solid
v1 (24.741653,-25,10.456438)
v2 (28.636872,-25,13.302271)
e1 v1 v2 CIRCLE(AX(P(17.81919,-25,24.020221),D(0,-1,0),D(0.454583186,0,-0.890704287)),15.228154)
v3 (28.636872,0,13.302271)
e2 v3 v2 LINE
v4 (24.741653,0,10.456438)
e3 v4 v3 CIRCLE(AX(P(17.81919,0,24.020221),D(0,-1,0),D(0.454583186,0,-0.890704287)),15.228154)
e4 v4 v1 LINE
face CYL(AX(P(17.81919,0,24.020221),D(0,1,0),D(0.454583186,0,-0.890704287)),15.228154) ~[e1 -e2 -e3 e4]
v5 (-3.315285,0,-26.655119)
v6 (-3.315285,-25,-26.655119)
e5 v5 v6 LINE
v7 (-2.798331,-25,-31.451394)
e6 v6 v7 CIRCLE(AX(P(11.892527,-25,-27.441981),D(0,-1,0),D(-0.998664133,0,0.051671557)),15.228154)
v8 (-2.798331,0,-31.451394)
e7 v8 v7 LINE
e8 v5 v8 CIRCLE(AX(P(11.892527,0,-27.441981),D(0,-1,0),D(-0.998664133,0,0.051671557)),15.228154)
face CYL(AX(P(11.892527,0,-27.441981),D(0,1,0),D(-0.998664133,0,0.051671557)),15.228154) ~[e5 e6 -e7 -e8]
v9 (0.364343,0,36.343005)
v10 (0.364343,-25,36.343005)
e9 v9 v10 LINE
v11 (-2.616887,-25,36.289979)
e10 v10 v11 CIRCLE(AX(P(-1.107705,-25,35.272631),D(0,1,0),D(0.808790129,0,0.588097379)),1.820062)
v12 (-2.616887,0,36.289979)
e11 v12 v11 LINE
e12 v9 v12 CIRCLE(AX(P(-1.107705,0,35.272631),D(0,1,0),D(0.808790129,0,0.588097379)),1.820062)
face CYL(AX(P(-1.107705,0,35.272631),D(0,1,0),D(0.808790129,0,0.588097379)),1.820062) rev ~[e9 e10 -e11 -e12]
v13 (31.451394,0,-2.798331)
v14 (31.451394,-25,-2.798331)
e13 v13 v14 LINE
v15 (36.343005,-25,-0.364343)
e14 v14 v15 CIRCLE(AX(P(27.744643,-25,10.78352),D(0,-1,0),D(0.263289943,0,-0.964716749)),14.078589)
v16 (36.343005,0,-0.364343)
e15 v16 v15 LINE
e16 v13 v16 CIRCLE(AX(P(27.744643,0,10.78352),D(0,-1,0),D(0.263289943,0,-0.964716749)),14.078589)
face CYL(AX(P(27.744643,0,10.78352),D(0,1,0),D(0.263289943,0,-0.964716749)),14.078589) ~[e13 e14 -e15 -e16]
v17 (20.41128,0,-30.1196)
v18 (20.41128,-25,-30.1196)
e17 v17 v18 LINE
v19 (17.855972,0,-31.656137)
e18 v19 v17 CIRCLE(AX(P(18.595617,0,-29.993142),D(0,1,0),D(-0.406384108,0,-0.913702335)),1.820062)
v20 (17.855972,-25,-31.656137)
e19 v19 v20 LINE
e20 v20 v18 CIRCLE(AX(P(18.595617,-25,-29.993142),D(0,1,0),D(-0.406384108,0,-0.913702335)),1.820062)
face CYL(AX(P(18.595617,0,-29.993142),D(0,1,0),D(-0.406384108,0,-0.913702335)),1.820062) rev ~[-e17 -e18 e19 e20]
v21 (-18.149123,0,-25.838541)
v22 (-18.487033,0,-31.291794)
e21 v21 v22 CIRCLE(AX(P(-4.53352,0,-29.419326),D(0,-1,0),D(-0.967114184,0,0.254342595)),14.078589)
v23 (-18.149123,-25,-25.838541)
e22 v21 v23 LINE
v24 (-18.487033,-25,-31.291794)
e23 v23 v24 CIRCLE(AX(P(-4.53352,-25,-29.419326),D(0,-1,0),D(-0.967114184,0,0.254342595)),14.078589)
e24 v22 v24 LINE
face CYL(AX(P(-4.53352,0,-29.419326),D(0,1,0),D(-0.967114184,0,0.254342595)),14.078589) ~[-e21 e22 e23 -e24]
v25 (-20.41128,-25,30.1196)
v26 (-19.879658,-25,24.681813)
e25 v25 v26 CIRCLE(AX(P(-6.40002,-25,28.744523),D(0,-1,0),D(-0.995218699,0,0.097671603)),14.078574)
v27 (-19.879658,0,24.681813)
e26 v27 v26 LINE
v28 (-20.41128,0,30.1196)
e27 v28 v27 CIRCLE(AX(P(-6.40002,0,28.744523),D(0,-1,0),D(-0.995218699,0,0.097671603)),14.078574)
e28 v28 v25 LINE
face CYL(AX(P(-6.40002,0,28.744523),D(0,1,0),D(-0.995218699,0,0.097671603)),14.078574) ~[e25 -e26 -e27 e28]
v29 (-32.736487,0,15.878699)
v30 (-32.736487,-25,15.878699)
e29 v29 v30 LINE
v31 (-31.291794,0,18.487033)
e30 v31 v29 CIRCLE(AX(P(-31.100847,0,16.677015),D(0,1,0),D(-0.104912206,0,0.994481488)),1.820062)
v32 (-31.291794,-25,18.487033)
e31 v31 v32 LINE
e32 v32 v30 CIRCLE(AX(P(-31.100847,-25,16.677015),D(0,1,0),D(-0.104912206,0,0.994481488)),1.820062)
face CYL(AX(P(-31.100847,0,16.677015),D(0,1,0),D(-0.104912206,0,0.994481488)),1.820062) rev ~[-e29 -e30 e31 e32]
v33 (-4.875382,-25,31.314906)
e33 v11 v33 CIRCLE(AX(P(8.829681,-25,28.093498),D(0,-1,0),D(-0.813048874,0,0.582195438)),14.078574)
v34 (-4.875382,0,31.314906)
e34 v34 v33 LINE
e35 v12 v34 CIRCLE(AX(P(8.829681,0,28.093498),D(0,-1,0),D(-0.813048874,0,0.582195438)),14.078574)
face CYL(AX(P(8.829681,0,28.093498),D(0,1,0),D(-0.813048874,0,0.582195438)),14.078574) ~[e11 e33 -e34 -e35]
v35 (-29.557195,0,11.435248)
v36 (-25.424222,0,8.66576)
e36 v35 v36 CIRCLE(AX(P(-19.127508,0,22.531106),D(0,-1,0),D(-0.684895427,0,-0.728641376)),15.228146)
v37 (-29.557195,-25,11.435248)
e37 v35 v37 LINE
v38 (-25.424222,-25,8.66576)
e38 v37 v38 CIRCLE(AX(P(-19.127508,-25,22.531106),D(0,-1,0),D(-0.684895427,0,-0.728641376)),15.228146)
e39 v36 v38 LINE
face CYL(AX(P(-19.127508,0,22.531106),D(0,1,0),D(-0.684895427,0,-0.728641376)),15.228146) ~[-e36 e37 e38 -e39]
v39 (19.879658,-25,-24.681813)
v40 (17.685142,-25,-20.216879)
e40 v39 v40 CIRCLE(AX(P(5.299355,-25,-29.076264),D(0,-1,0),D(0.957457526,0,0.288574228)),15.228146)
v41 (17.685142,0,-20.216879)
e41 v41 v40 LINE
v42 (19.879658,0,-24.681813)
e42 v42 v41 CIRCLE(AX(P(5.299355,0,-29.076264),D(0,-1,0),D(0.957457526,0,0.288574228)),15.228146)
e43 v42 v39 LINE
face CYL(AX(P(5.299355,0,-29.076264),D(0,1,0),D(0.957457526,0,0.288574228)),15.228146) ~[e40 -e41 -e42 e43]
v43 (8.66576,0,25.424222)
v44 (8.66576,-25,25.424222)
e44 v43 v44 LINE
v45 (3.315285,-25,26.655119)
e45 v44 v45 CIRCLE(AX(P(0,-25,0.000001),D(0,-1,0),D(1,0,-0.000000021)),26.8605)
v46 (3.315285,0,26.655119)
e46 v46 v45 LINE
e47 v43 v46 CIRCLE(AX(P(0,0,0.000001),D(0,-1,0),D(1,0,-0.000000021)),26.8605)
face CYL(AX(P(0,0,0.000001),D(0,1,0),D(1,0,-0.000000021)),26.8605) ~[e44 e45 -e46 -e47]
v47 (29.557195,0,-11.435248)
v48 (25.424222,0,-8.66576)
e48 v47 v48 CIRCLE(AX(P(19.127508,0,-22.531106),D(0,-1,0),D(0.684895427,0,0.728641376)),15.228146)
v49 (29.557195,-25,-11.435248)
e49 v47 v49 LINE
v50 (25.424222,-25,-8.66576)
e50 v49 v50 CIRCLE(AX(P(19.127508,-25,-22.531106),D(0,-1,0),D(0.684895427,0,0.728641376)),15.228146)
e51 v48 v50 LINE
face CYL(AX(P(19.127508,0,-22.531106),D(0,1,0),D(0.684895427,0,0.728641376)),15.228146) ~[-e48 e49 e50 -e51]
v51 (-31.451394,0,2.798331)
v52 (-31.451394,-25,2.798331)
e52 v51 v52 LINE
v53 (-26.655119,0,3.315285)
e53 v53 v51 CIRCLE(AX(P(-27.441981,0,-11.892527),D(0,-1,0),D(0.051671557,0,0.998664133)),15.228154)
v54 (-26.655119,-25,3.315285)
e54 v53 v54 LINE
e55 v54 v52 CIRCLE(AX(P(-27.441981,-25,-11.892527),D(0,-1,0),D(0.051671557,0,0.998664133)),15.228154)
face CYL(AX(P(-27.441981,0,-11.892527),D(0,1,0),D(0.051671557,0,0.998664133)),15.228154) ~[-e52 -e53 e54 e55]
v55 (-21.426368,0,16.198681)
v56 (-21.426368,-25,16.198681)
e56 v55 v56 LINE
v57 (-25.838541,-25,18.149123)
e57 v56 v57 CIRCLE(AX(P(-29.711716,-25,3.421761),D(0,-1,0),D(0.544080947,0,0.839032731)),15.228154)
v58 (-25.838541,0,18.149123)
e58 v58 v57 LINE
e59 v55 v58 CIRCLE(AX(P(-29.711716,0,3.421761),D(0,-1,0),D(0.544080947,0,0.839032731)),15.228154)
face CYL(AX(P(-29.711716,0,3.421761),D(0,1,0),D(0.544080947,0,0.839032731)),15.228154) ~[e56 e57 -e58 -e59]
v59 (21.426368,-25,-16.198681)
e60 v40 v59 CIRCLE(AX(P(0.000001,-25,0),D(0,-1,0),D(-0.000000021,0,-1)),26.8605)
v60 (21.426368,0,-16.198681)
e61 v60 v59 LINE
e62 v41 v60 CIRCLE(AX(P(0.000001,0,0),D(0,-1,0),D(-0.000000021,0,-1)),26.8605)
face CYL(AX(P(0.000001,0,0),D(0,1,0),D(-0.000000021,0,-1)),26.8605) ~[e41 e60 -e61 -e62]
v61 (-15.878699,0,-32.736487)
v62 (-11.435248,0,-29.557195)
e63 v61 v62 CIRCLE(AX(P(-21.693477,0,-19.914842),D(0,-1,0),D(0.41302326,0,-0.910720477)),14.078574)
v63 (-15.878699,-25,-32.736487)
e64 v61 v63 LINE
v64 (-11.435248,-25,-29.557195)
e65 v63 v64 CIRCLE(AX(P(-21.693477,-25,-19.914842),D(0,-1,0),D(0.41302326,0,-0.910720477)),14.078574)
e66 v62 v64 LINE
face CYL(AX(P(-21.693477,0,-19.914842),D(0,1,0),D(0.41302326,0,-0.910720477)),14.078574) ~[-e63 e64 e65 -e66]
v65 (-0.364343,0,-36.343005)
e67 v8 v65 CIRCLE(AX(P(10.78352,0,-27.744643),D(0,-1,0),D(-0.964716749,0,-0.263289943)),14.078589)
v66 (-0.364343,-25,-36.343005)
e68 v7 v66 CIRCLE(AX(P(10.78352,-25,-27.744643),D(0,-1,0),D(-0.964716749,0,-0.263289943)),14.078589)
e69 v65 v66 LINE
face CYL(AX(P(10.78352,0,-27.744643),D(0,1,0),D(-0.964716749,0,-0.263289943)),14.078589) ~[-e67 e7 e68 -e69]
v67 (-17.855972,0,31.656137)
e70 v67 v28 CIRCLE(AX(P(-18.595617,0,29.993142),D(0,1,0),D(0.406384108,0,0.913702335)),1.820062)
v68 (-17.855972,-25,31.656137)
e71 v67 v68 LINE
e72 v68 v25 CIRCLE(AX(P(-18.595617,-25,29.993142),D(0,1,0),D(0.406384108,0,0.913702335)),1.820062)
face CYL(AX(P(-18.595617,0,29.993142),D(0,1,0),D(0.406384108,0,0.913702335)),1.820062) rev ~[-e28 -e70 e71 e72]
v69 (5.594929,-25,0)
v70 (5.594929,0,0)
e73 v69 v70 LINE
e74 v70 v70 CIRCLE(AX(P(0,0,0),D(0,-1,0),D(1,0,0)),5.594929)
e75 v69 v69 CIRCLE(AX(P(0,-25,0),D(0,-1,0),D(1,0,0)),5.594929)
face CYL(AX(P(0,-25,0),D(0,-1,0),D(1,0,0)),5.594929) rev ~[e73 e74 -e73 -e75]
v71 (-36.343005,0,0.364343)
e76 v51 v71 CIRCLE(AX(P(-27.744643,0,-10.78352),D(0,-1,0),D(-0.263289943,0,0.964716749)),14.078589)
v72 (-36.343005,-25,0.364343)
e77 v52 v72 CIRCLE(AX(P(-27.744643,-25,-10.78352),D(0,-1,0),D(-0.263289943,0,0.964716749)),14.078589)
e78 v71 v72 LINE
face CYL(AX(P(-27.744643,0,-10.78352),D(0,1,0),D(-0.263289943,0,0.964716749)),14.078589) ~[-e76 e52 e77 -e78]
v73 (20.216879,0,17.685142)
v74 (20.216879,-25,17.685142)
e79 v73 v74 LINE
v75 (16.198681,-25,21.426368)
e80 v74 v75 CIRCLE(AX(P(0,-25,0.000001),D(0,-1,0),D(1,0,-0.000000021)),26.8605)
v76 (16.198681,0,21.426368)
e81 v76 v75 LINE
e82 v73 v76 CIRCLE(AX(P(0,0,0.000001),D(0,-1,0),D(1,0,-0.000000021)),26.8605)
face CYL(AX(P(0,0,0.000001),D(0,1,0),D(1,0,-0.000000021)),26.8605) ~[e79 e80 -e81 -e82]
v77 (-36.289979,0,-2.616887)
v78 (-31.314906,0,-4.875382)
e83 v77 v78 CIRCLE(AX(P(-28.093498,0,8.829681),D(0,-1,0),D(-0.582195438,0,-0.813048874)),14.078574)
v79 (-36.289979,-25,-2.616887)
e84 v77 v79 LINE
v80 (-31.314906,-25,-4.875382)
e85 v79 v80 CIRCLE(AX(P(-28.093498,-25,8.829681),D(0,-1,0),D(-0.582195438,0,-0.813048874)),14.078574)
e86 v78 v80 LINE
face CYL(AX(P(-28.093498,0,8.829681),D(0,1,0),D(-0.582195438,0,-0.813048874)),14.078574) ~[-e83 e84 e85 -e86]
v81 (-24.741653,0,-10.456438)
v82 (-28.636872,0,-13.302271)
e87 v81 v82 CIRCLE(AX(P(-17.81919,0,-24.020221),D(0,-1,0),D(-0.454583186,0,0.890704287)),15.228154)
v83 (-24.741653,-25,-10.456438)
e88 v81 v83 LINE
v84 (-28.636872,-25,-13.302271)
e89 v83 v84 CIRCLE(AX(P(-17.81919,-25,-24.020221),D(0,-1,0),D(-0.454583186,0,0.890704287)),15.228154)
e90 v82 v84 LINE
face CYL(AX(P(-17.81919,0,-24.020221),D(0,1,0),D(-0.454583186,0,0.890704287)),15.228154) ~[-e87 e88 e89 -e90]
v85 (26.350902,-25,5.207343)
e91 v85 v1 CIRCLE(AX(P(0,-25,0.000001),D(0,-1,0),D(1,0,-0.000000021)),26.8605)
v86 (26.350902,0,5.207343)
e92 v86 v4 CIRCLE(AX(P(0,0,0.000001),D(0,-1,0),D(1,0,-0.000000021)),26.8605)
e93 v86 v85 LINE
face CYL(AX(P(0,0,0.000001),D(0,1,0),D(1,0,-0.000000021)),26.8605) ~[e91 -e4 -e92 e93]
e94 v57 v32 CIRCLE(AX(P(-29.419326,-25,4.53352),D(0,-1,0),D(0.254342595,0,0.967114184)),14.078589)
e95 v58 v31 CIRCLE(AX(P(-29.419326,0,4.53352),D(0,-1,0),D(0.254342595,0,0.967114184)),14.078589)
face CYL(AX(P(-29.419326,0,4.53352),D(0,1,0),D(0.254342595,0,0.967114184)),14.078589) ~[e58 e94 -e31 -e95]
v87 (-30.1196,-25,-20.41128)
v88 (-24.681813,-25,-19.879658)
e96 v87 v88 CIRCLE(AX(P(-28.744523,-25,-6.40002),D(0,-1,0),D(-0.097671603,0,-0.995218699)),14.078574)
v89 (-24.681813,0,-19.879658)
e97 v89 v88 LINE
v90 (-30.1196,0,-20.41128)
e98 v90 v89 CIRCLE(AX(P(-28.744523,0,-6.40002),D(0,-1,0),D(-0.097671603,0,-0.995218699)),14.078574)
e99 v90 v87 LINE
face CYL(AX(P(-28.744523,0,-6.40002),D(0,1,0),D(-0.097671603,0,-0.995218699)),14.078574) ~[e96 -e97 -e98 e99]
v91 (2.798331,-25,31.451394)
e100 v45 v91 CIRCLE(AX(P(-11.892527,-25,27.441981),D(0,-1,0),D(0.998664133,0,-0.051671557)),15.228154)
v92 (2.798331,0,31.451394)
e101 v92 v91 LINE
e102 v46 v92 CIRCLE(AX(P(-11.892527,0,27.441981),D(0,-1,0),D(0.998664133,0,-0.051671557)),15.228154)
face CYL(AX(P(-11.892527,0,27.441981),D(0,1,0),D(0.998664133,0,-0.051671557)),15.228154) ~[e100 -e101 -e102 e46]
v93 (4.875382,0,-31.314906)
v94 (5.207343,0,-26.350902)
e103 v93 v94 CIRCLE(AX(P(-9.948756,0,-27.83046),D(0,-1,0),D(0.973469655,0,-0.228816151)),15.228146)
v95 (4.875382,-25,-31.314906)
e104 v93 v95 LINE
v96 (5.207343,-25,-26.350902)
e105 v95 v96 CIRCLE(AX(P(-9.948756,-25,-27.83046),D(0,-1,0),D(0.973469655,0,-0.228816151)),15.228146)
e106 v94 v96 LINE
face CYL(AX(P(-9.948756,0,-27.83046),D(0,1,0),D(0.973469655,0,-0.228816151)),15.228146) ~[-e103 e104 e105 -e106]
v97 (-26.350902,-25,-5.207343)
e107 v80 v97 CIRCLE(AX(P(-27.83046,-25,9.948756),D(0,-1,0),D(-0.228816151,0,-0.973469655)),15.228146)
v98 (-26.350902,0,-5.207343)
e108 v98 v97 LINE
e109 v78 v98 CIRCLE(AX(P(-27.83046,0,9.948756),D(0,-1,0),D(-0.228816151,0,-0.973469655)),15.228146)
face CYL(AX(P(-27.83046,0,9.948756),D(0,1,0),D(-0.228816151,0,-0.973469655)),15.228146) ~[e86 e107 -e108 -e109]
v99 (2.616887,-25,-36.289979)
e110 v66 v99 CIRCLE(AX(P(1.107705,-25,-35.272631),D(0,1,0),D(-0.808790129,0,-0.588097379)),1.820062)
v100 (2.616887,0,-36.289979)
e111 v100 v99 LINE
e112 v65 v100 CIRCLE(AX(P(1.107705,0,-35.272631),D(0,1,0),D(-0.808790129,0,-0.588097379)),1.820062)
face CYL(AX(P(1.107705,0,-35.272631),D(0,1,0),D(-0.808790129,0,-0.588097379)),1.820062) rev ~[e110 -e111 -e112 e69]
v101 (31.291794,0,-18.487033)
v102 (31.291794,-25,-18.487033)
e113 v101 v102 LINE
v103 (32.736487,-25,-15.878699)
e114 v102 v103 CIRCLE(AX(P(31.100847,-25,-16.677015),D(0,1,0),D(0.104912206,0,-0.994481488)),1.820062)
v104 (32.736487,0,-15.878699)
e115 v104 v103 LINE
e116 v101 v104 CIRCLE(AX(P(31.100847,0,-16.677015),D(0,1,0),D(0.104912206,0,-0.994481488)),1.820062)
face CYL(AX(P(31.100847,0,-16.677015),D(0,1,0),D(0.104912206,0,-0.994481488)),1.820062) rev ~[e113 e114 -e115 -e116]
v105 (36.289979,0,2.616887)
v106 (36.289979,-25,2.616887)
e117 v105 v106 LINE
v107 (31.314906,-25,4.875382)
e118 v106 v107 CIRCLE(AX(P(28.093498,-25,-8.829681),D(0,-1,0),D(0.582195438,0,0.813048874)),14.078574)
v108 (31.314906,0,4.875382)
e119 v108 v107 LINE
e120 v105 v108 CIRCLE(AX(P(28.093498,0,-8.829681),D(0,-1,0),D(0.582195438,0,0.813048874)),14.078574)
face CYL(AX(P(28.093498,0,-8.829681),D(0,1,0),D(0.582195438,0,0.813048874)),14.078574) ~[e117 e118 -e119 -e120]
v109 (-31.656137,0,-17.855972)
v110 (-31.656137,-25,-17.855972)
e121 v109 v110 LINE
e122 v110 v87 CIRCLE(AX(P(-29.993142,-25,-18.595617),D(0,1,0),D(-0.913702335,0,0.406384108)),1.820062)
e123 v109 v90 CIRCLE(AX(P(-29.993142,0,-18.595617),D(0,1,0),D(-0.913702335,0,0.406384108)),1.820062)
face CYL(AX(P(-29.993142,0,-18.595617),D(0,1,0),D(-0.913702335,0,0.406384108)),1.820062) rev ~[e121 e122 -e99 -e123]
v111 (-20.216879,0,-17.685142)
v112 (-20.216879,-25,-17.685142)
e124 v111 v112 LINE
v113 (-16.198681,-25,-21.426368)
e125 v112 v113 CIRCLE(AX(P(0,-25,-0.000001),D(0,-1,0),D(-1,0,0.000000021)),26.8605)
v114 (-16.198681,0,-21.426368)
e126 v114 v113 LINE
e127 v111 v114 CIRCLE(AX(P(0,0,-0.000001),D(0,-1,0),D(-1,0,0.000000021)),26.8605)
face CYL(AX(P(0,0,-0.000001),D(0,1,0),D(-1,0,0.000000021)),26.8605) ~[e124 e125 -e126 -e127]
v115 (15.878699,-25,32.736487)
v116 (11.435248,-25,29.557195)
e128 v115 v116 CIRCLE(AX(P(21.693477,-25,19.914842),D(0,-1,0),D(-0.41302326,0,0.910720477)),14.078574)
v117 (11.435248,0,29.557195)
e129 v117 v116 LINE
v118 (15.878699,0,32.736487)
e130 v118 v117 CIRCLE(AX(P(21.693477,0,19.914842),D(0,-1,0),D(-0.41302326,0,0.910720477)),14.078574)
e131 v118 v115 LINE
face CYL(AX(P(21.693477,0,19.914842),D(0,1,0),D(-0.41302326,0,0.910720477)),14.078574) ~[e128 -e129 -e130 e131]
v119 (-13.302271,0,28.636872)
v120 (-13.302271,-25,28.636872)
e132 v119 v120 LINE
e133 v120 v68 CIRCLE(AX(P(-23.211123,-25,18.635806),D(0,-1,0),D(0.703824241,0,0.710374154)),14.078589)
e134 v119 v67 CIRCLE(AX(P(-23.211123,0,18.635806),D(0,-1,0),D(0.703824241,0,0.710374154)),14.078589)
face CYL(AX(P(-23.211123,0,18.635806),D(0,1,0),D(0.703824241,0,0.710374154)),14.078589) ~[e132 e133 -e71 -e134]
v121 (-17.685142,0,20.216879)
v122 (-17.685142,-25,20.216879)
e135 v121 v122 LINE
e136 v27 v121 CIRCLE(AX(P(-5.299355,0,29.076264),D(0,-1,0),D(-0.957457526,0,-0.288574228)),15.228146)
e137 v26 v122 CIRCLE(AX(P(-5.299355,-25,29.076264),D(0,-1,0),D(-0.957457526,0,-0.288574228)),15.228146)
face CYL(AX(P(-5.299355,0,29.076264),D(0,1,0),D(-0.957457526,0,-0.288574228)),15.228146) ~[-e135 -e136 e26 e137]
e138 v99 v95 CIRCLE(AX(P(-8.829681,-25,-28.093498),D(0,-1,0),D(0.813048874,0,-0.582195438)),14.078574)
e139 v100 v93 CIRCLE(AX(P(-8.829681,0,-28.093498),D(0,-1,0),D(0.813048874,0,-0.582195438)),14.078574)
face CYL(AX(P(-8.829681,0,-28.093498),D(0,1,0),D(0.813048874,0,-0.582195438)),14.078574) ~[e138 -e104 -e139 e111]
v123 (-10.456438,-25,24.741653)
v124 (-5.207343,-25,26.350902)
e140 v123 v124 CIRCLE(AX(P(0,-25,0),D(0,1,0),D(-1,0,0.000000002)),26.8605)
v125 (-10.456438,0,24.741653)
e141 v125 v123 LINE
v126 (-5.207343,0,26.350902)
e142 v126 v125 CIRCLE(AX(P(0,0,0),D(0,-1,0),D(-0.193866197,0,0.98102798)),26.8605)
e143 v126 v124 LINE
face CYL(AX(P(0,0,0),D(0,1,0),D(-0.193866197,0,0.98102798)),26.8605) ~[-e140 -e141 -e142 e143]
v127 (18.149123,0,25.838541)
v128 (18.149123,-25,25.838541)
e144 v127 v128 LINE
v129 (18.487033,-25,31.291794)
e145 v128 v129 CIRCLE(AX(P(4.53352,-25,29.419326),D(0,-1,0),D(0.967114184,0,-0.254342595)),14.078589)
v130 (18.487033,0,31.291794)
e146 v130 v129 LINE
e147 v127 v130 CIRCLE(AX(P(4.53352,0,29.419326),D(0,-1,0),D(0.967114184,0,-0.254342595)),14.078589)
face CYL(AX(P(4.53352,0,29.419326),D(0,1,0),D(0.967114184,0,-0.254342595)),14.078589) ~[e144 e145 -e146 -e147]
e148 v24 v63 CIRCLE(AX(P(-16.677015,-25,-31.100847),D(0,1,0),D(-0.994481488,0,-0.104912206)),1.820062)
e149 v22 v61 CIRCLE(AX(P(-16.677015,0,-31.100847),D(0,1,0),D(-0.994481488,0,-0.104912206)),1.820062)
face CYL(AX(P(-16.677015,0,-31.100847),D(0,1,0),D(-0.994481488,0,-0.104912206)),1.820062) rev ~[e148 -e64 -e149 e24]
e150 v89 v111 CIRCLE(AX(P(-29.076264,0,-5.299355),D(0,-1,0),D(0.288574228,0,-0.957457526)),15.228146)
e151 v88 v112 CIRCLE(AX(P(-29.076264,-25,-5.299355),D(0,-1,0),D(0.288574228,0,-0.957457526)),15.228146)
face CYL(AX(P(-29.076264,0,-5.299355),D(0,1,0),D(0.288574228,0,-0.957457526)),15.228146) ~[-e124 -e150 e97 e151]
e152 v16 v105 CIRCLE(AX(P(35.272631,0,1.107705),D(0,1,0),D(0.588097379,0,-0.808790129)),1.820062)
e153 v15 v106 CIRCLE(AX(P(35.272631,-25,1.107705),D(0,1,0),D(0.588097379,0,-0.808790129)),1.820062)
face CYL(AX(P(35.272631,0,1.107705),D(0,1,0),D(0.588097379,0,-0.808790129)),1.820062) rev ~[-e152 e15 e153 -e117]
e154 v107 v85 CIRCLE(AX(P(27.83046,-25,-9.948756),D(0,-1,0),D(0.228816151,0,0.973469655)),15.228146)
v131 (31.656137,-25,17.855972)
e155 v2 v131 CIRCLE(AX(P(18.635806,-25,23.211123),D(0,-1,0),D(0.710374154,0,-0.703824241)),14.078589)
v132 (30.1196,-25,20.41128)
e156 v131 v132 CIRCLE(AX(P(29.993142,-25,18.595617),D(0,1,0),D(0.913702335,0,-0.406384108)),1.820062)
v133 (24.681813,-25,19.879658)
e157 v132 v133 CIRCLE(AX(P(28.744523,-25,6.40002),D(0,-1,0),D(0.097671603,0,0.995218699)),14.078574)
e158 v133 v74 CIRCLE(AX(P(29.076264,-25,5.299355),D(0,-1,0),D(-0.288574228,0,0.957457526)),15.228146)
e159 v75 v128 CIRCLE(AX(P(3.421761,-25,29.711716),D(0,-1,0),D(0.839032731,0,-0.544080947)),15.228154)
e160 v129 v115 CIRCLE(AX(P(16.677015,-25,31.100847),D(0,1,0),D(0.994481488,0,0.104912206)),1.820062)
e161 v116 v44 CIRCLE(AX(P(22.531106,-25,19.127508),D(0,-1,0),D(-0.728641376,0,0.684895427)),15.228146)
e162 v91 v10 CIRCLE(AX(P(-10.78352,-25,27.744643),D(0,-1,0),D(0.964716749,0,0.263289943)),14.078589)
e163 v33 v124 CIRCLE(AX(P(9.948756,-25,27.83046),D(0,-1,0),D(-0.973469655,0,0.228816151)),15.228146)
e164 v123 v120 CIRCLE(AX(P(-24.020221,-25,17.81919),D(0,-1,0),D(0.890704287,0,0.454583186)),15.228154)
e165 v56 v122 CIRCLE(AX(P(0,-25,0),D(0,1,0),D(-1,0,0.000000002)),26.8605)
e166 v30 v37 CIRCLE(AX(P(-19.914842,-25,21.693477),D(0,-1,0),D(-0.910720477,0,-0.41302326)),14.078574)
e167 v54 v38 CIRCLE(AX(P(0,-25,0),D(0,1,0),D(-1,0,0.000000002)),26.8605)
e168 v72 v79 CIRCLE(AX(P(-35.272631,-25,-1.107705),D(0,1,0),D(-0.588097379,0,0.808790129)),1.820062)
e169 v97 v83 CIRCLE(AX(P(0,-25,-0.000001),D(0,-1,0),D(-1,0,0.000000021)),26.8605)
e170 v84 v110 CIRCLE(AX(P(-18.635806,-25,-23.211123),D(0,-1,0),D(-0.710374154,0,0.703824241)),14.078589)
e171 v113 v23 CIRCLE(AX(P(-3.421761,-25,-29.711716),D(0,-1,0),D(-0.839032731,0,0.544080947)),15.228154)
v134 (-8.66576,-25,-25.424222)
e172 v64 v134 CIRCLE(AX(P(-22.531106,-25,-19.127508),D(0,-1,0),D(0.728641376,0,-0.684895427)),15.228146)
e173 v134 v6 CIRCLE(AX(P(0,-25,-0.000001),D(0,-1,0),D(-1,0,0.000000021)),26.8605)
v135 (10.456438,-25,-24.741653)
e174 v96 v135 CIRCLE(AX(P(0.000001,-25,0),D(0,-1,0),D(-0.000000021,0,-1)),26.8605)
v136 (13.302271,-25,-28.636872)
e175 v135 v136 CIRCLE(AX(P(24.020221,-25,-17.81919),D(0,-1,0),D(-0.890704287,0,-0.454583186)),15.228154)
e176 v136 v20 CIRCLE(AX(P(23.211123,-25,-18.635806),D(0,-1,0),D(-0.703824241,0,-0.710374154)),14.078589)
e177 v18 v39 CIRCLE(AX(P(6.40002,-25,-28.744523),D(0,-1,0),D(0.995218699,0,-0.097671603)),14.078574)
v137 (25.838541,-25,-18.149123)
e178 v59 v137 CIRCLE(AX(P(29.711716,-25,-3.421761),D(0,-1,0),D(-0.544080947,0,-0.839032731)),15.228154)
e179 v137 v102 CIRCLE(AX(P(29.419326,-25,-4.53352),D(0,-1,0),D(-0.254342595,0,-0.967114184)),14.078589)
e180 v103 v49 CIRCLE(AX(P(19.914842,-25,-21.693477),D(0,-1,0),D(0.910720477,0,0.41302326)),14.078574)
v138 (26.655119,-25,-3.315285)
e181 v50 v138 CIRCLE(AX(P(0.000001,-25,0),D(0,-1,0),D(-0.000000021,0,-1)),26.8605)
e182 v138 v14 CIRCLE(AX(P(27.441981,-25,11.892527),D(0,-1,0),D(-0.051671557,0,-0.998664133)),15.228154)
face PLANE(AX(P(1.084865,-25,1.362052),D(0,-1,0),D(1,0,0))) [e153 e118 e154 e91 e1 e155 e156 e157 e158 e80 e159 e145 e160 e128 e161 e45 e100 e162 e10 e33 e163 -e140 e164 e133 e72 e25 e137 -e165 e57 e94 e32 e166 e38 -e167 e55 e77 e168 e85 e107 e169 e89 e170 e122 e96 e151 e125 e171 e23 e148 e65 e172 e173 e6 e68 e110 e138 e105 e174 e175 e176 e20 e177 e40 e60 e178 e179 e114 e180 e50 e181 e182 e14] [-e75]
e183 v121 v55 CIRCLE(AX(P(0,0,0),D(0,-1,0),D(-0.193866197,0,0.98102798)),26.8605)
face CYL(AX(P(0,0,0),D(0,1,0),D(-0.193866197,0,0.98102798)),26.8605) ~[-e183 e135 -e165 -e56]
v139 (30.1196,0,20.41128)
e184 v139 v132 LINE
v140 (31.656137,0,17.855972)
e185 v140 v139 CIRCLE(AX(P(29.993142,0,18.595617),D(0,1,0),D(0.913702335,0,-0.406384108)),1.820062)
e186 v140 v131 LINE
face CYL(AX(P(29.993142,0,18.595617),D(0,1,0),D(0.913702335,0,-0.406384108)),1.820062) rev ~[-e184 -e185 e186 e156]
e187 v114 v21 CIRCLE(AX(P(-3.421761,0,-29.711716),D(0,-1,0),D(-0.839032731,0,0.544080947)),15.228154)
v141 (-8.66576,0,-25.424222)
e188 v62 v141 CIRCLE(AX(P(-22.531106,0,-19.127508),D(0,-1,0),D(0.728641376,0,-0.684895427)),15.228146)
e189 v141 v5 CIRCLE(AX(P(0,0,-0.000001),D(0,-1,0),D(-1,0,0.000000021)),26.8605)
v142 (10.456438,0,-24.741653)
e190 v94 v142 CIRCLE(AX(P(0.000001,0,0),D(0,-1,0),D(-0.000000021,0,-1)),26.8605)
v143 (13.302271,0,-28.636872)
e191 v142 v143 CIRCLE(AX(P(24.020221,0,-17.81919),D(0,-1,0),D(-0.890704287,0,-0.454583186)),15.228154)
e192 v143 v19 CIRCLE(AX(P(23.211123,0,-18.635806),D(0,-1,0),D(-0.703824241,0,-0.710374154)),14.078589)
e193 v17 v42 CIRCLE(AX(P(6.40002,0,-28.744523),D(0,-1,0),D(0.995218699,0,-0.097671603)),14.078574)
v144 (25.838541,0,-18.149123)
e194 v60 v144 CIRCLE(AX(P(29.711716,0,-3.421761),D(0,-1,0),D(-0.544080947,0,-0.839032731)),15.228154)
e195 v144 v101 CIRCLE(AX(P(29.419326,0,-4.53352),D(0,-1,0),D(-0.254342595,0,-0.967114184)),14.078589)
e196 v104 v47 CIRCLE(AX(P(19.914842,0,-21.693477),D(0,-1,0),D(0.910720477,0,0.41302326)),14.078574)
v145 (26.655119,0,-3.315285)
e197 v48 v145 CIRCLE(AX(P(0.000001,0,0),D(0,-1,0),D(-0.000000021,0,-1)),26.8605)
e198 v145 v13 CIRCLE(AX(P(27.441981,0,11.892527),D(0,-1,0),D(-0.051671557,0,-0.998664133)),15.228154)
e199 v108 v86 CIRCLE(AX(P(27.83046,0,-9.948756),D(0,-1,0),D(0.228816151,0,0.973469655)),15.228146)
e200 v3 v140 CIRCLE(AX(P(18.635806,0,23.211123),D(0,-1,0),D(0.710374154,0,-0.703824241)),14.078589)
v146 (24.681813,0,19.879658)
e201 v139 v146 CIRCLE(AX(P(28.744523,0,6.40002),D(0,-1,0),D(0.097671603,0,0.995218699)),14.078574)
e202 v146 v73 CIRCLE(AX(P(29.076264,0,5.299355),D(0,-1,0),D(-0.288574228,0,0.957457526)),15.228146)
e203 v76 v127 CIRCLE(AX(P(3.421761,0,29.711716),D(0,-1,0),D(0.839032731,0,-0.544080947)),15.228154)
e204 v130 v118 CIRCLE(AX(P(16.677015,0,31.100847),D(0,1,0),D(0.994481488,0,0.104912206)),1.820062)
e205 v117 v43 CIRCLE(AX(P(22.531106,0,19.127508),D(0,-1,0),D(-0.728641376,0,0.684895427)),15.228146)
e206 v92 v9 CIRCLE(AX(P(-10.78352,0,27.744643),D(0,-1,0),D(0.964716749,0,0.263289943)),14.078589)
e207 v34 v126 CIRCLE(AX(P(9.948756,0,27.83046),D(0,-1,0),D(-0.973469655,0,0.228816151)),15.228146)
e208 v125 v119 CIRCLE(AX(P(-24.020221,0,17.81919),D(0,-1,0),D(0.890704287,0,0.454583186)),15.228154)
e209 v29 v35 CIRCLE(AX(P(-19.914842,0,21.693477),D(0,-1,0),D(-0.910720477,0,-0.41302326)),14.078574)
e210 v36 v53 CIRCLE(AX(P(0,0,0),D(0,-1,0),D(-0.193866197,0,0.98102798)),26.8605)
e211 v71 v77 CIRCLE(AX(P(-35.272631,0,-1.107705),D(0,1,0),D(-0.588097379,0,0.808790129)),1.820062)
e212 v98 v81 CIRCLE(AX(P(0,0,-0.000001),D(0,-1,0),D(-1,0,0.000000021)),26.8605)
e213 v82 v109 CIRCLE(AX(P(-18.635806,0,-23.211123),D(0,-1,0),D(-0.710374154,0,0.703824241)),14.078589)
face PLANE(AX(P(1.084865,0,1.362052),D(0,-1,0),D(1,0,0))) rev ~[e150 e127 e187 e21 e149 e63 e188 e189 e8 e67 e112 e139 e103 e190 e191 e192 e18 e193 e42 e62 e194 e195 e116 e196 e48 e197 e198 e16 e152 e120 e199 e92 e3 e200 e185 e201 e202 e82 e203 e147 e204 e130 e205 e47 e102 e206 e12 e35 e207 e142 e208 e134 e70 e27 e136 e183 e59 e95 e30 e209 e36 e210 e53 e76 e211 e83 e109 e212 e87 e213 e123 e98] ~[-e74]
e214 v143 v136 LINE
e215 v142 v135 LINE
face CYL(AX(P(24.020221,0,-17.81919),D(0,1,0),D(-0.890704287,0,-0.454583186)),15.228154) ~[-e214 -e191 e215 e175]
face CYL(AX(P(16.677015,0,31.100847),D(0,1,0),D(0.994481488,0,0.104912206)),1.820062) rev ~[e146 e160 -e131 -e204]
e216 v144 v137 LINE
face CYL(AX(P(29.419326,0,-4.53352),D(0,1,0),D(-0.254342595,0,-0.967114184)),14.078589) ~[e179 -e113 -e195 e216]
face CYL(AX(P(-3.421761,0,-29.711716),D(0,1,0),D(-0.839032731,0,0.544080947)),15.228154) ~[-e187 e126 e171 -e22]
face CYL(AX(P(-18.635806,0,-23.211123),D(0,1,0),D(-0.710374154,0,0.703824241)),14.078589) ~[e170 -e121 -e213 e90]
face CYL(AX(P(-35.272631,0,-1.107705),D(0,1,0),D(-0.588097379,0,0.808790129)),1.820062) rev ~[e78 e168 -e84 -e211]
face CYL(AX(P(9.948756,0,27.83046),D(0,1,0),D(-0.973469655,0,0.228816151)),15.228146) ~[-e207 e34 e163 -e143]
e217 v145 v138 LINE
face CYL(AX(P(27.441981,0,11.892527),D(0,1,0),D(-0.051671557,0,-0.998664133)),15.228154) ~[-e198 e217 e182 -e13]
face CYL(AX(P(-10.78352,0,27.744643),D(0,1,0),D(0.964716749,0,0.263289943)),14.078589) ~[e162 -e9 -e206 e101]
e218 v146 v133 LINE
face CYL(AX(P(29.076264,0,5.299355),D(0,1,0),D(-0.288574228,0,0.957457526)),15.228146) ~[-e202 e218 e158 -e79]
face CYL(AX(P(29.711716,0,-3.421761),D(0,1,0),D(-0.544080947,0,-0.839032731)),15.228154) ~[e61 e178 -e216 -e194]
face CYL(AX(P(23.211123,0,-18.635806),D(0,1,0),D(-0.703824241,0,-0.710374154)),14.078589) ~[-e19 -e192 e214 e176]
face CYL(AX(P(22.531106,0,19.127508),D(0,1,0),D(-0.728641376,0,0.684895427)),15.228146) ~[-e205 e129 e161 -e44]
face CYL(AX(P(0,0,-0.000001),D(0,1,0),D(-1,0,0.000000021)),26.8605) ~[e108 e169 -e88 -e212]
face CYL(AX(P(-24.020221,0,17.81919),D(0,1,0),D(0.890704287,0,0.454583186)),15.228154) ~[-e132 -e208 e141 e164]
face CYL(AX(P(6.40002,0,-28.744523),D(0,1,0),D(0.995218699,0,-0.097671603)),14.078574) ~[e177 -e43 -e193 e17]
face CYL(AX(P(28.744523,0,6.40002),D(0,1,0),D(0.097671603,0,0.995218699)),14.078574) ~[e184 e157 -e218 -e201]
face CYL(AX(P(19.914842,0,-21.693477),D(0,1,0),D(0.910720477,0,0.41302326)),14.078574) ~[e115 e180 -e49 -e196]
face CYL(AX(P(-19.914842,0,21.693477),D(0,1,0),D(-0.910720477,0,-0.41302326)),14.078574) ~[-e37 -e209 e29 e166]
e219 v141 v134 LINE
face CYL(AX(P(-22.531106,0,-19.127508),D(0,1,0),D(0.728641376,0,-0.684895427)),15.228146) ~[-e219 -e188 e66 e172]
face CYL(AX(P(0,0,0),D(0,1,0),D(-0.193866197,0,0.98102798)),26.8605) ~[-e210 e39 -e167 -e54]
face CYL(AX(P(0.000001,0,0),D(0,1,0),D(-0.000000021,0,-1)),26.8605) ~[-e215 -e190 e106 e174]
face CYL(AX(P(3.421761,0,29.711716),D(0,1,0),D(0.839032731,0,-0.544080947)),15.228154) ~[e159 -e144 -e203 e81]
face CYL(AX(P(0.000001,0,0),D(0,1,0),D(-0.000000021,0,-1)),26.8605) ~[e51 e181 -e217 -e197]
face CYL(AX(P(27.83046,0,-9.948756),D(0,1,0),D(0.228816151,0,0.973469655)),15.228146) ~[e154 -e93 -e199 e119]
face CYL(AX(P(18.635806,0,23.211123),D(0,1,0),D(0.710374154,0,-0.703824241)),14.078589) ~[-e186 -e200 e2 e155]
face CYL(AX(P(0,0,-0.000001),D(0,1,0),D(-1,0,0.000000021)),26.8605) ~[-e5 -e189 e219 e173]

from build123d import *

# Parameters (mm, degrees)
F1_DEPTH = 25
F2_COUNT = 12
F3_R     = 5.594929
F4_DEPTH = 45.5


with BuildPart() as f1:
    # F0 (on Front) → F1 (new body)
    with BuildSketch(Plane.XZ):
        with BuildLine():
            ThreePointArc((-5.207343, 26.350902), (-17.053073, -20.752811), (26.8605, 0))
            ThreePointArc((26.8605, 0), (20.131278, 17.782523), (3.315285, 26.655119))
            ThreePointArc((3.315285, 26.655119), (-0.958179, 26.843404), (-5.207343, 26.350902))
        make_face()
        with BuildLine():
            ThreePointArc((-5.207343, 26.350902), (-0.958179, 26.843404), (3.315285, 26.655119))
            ThreePointArc((3.315285, 26.655119), (3.247938, 29.073857), (2.798331, 31.451394))
            ThreePointArc((2.798331, 31.451394), (1.82091, 34.016407), (0.364343, 36.343005))
            ThreePointArc((0.364343, 36.343005), (-1.075338, 33.452857), (-2.616887, 36.289979))
            ThreePointArc((-2.616887, 36.289979), (-3.989795, 33.913056), (-4.875382, 31.314906))
            ThreePointArc((-4.875382, 31.314906), (-5.245453, 28.846552), (-5.207343, 26.350902))
        make_face()
    extrude(amount=F1_DEPTH)

    # F2: F1 ×12 about axis
    f2_axis = Axis((0, 0, 0), (0, 1, 0))


with BuildPart() as f1_1:
    add(f1.part)
    for i in range(1, F2_COUNT):
        add(f1.part.rotate(f2_axis, i * 360 / F2_COUNT))

    # F3 (on face) → F4 (cut)
    with BuildSketch(Plane.XZ.offset(25)):
        Circle(F3_R)
    extrude(amount=-F4_DEPTH, mode=Mode.SUBTRACT)


solid = f1_1.part
